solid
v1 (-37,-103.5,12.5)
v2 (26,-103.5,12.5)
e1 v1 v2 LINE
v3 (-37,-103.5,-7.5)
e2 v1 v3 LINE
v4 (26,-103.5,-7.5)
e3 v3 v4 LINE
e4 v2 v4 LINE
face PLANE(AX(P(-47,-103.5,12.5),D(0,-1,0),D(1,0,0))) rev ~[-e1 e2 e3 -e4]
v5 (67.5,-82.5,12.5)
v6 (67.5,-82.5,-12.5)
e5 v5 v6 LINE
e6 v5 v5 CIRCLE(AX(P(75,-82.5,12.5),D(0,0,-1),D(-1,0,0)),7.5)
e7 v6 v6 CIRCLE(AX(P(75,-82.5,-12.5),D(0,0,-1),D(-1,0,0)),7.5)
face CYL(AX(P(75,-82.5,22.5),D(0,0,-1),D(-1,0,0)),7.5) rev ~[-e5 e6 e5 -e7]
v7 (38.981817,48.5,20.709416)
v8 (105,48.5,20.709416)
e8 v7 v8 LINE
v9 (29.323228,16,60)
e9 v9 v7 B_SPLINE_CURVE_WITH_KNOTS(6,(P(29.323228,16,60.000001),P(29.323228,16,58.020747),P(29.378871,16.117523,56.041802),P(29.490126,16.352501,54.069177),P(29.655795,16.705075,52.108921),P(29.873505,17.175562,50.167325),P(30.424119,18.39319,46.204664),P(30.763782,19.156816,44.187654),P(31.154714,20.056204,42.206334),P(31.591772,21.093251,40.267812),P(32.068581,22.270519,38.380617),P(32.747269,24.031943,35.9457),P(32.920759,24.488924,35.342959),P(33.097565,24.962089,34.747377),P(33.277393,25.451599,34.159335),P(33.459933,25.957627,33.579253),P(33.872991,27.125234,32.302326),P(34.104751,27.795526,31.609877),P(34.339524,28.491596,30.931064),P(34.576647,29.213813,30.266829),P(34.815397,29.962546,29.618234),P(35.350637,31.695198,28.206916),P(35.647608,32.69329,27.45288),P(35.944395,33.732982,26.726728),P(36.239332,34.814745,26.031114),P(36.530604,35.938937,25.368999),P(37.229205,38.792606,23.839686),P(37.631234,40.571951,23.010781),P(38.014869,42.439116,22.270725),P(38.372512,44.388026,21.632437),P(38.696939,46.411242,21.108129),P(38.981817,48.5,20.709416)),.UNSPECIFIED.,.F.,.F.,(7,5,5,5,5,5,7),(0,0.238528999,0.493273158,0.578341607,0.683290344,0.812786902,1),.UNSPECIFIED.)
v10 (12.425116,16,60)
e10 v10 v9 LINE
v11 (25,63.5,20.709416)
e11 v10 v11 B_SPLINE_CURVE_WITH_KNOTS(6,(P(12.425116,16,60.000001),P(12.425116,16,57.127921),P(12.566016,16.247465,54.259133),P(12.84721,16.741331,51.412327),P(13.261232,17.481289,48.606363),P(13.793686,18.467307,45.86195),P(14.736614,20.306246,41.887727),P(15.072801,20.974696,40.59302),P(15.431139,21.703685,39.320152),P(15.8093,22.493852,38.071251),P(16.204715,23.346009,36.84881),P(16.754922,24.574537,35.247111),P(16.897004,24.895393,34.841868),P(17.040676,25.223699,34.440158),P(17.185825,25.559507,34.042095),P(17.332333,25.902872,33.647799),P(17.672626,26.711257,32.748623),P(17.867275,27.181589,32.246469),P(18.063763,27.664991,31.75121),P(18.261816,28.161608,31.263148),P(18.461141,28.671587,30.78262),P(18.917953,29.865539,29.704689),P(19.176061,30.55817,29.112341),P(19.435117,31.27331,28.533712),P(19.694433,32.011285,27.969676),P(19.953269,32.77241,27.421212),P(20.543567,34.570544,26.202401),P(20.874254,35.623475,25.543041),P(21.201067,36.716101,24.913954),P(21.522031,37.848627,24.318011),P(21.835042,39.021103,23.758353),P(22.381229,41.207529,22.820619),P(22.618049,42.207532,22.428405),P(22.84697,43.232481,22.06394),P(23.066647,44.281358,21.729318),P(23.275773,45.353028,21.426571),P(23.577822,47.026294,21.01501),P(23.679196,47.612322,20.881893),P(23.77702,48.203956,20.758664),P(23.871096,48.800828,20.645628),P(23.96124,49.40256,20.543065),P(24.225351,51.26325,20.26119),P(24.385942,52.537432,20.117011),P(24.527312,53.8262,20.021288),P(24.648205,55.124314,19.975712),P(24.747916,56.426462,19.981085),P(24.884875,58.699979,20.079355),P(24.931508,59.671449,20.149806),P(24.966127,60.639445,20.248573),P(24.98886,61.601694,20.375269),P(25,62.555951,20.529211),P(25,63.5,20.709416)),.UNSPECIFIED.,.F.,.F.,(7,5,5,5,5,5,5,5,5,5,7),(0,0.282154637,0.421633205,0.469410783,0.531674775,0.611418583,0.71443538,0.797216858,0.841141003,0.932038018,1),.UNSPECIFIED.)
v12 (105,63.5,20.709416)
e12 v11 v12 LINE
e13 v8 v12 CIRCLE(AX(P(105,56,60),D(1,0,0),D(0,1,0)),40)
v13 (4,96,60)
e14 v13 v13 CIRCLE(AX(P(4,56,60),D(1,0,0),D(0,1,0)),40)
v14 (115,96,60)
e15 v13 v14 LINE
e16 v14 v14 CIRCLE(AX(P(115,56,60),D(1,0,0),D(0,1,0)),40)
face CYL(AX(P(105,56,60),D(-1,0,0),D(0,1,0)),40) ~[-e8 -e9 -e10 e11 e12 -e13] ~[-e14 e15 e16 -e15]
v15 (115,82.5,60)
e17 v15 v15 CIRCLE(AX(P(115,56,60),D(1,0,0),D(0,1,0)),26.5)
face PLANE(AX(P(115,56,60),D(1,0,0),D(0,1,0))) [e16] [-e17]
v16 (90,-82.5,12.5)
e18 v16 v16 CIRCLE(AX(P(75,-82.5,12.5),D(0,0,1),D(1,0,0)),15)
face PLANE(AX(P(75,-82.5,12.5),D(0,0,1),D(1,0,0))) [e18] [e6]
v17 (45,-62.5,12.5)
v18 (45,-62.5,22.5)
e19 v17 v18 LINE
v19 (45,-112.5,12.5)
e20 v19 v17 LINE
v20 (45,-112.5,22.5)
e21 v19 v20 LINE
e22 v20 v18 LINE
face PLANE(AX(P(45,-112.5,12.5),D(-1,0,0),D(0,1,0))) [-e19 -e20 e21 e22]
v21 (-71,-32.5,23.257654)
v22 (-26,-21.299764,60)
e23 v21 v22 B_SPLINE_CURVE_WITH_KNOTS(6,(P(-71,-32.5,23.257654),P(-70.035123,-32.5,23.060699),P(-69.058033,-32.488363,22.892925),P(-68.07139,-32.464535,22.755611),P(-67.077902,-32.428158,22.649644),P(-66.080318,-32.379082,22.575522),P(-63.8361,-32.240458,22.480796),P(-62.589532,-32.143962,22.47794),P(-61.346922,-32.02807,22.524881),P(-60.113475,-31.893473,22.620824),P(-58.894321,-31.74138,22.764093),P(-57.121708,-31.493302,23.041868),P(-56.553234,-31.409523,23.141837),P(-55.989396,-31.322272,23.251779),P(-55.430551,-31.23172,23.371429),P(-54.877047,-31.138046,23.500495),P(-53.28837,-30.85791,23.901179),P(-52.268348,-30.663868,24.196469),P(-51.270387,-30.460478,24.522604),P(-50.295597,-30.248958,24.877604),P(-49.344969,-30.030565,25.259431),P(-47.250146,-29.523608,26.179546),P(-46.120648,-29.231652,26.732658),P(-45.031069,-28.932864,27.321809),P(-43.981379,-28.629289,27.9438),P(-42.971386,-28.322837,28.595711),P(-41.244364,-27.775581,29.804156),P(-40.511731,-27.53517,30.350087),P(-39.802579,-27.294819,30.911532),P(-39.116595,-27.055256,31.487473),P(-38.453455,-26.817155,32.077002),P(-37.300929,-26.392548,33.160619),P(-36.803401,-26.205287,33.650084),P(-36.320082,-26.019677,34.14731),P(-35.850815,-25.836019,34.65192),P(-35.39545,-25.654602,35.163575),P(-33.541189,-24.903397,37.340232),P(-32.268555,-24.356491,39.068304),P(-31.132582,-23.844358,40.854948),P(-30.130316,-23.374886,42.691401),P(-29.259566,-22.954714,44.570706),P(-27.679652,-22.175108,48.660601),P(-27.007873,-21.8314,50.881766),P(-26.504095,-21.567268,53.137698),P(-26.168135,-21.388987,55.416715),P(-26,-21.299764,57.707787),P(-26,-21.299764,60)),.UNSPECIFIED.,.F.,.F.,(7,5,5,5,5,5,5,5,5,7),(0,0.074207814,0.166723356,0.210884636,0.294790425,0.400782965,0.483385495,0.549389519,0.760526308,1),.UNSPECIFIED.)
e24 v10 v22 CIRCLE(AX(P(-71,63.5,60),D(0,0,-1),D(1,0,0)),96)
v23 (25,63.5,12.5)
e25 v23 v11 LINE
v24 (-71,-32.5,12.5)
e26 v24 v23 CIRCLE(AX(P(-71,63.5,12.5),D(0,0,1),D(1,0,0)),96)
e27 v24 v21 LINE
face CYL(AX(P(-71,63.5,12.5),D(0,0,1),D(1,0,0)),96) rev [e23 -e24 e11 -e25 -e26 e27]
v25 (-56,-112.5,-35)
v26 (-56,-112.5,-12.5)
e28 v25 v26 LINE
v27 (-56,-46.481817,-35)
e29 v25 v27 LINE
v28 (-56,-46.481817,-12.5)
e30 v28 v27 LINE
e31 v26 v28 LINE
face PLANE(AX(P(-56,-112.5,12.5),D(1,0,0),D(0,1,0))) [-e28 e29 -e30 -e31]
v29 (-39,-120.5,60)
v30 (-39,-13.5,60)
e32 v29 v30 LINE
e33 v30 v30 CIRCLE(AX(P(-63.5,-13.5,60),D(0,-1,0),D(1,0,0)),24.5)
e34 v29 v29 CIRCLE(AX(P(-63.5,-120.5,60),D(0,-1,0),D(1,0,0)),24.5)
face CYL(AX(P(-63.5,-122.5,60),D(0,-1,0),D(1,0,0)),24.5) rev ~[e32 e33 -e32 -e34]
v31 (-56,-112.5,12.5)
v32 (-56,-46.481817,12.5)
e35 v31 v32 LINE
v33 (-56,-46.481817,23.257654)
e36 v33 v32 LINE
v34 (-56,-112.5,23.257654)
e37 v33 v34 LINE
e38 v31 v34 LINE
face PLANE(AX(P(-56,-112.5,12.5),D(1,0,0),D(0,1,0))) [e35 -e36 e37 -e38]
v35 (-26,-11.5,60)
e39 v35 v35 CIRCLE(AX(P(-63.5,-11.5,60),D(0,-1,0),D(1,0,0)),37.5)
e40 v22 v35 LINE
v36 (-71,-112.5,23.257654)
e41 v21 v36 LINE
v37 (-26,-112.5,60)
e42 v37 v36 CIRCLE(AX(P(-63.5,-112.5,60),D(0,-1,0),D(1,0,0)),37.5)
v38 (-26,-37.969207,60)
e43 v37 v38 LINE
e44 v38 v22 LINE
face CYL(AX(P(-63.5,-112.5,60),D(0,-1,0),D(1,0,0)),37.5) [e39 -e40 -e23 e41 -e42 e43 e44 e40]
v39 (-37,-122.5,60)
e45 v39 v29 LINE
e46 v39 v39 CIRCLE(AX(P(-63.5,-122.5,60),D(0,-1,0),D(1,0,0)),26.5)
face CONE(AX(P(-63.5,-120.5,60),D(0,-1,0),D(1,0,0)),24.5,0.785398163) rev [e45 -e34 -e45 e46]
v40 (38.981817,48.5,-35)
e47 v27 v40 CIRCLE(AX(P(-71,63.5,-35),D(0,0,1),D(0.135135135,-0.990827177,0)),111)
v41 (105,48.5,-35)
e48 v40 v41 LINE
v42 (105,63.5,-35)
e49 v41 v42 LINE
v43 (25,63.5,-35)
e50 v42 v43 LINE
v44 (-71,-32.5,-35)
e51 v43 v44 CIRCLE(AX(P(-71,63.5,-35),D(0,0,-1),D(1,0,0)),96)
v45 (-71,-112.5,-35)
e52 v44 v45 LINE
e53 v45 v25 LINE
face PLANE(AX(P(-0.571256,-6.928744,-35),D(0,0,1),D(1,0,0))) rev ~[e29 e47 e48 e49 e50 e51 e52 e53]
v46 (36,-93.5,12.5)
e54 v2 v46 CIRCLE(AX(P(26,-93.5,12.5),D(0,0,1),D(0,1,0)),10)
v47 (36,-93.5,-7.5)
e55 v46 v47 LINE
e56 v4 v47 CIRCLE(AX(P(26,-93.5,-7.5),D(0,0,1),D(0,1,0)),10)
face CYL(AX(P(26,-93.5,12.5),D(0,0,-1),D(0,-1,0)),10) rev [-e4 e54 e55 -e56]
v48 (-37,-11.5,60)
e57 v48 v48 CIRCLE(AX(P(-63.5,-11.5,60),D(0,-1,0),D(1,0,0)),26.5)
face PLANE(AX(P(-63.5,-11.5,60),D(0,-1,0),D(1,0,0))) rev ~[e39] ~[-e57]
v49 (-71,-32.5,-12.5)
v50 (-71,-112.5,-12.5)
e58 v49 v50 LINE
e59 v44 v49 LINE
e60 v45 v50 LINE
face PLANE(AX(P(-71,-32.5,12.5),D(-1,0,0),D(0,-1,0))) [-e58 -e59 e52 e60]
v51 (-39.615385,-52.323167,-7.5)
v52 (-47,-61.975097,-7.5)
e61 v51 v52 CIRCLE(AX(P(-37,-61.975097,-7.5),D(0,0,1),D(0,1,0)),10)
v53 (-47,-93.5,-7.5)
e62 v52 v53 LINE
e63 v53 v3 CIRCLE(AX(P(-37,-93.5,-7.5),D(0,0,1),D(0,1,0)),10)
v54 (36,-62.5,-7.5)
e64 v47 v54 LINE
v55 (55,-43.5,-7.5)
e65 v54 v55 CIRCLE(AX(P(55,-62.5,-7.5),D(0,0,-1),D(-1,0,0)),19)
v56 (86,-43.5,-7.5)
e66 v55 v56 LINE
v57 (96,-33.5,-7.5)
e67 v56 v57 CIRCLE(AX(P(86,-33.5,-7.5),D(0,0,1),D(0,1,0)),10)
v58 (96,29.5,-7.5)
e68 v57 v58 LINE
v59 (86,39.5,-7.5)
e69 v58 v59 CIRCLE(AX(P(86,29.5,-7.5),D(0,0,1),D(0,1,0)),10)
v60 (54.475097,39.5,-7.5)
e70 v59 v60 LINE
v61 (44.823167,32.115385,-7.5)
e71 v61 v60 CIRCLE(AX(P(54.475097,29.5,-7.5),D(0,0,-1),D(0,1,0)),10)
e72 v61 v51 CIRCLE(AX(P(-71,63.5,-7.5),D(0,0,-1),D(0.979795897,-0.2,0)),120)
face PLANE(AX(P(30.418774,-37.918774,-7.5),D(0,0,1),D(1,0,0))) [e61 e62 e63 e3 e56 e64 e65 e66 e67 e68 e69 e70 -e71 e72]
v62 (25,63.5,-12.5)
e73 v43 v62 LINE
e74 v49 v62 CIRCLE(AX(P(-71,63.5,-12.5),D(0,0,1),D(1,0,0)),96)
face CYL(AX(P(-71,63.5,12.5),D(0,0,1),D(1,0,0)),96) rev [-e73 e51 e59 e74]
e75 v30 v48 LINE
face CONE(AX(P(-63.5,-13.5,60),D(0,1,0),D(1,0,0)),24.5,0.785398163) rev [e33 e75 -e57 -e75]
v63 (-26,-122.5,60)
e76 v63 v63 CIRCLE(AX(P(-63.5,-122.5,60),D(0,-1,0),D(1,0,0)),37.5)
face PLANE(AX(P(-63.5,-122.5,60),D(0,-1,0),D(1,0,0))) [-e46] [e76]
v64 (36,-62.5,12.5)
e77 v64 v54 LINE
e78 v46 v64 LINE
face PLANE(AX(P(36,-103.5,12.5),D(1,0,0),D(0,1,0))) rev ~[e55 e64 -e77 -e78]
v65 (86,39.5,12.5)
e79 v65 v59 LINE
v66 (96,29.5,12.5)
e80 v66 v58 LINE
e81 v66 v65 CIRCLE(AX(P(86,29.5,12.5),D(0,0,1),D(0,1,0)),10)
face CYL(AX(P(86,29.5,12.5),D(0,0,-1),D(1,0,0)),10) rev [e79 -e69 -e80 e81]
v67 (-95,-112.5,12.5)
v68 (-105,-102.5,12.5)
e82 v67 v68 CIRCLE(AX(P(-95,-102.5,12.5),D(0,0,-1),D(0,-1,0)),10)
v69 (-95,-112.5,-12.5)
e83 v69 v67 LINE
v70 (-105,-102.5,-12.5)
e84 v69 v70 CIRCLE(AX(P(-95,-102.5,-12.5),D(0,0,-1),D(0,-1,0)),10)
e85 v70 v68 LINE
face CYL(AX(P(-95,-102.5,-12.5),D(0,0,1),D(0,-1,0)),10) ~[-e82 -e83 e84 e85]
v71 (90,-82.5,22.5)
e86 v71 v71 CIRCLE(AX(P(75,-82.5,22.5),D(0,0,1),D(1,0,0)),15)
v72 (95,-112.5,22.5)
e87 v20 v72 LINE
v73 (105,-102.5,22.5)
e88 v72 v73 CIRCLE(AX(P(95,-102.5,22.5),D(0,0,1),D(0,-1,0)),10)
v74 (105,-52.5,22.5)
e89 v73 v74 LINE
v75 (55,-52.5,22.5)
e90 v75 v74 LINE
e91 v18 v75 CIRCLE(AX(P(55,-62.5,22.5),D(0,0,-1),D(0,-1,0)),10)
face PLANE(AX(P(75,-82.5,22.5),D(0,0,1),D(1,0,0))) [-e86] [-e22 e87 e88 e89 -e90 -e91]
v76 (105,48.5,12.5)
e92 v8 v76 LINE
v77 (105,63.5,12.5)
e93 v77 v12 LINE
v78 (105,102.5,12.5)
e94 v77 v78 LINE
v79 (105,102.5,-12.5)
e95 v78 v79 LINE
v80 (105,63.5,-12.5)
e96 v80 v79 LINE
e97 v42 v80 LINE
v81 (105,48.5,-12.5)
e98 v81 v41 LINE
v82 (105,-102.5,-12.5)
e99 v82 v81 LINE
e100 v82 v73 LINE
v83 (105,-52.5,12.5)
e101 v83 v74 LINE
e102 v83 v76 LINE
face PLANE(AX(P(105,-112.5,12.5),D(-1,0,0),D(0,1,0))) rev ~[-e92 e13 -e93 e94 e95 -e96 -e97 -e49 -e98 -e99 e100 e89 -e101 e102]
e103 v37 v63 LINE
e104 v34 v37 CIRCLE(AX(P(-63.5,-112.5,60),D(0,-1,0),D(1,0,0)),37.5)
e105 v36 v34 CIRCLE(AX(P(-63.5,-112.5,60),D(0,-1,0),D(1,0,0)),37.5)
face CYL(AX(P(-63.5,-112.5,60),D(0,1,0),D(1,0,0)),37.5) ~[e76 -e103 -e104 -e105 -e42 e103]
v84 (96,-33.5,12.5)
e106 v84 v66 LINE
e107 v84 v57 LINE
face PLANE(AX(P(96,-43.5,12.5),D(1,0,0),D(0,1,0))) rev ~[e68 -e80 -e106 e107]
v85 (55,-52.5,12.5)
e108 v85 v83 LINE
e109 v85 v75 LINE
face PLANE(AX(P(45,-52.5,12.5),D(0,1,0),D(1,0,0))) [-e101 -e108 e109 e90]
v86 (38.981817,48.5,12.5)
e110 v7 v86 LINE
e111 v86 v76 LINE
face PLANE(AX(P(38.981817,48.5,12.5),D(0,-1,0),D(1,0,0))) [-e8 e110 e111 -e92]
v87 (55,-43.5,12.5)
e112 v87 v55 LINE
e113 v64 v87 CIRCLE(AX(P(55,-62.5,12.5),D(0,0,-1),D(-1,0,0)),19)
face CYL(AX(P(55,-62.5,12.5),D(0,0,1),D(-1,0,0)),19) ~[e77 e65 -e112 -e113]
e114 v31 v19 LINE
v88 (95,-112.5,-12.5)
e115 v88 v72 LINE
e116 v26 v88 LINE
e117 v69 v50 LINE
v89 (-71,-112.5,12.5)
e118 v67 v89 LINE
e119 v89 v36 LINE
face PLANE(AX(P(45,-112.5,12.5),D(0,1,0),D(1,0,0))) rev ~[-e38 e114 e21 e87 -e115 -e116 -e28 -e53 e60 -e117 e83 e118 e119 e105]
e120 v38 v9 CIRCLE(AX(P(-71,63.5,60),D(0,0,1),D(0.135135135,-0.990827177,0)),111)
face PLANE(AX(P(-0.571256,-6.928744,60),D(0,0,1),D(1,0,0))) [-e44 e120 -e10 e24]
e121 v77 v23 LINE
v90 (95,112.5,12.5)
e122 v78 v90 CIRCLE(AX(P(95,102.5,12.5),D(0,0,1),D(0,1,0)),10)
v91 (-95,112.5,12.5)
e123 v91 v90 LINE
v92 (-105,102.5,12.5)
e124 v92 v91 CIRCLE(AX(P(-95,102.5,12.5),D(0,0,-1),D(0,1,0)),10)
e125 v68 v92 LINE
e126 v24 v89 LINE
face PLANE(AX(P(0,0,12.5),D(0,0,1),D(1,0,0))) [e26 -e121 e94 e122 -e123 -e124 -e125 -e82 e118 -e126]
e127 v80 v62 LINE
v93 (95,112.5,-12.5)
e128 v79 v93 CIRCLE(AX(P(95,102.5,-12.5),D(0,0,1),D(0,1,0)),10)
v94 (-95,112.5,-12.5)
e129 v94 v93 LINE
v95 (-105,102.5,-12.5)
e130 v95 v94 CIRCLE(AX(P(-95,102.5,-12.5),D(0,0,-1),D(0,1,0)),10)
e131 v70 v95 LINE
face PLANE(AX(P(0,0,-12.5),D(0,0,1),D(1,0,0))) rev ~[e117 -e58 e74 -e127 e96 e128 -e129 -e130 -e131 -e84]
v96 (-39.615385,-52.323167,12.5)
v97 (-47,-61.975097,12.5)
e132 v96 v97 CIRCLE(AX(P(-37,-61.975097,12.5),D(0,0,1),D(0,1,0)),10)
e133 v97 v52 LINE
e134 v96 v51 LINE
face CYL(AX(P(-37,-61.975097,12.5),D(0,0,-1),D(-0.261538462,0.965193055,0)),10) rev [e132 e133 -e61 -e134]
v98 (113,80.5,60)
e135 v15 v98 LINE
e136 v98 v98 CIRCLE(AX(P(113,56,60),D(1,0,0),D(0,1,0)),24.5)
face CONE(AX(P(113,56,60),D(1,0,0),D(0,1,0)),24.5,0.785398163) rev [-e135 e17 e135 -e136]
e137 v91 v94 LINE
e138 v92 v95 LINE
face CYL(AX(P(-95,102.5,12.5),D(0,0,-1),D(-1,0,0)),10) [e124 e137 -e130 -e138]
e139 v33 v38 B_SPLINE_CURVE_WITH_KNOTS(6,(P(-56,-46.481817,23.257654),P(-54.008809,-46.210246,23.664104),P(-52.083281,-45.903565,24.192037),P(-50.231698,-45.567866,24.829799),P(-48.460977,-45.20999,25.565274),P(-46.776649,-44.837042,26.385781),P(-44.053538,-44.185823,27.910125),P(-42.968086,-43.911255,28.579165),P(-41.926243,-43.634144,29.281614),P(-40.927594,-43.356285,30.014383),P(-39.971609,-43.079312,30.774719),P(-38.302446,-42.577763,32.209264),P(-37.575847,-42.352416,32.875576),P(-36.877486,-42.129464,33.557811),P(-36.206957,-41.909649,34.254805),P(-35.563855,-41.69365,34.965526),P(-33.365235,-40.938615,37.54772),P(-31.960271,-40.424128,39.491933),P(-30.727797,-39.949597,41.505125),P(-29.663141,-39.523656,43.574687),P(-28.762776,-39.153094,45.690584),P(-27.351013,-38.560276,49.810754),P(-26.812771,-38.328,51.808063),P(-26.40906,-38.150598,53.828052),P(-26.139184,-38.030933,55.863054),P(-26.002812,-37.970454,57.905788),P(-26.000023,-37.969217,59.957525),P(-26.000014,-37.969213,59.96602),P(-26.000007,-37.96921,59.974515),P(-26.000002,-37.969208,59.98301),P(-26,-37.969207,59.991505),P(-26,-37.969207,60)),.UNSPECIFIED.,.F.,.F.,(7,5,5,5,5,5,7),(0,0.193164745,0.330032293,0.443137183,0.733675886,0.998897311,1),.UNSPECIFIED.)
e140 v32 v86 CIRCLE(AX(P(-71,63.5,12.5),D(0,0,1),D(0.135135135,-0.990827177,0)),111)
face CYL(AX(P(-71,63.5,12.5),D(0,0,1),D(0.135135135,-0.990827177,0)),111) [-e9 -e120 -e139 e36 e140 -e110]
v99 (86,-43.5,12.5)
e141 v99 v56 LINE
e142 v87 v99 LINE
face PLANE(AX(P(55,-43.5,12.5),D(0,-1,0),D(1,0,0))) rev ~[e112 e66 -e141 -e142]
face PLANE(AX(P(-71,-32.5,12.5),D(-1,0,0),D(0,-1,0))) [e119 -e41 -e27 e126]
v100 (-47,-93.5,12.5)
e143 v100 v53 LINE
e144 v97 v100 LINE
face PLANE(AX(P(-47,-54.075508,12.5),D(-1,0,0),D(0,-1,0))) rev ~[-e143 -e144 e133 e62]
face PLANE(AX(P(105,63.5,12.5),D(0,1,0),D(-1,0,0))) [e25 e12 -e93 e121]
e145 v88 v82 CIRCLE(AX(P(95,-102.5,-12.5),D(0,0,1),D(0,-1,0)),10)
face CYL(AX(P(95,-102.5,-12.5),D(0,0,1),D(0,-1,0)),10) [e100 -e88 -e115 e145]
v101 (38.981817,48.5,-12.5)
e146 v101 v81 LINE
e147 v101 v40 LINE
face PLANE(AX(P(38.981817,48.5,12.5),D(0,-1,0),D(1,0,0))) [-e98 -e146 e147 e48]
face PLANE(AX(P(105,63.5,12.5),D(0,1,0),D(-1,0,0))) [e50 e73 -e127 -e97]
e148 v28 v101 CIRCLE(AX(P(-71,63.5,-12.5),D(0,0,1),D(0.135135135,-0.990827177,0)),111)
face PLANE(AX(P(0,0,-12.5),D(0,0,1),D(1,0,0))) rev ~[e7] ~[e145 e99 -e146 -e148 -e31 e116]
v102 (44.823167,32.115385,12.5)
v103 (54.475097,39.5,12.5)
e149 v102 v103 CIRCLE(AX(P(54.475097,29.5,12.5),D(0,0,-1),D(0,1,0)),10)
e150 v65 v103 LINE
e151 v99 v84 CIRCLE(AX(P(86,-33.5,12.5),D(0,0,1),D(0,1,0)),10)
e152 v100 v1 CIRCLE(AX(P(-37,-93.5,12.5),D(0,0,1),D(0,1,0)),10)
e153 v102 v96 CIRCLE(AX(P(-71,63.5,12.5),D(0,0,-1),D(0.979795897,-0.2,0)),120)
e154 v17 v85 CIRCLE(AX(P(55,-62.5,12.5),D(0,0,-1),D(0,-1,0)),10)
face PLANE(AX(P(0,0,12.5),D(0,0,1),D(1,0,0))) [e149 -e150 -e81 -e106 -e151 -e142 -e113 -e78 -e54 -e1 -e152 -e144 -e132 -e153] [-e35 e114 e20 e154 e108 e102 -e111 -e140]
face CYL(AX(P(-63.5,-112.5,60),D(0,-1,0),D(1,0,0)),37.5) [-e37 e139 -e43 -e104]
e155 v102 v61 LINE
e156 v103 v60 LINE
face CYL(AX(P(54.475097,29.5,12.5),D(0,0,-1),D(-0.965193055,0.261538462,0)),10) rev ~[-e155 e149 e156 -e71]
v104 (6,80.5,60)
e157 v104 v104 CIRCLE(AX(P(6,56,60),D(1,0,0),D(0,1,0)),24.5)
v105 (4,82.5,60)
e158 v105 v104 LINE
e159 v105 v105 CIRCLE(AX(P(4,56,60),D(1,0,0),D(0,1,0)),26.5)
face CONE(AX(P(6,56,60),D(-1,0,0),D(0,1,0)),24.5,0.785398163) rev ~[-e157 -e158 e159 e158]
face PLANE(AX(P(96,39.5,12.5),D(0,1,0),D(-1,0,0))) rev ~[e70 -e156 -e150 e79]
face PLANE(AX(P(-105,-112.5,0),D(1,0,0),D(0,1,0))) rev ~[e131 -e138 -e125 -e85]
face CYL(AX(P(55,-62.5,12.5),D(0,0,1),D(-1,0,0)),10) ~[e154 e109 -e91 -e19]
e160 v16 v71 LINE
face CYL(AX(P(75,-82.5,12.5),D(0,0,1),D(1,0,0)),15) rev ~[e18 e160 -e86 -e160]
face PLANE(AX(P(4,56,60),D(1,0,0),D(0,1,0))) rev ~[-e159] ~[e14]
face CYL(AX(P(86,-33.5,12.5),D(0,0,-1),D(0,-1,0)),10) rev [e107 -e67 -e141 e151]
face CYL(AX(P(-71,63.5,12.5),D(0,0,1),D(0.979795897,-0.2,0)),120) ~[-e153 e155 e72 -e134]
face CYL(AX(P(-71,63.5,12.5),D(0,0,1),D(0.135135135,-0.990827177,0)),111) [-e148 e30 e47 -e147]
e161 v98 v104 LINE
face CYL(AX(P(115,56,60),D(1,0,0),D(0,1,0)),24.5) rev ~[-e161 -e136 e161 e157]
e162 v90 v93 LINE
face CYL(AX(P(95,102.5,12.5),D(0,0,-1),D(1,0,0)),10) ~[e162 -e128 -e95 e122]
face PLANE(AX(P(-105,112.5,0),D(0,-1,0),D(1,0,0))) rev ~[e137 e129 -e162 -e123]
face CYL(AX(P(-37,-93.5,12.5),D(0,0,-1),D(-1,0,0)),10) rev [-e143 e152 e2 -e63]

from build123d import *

# Parameters (mm, degrees)
F0_W            = 210
F0_H            = 225
F1_DEPTH        = 12.5
F3_DEPTH        = 47.5
F4_R            = 37.5
F5_DEPTH        = 10
F5_DEPTH_BACK   = 101
F6_R            = 40
F7_DEPTH        = 10
F7_DEPTH_BACK   = 101
F8_W            = 60
F8_H            = 60
F9_DEPTH        = 10
F10_R           = 10
F12_DEPTH       = 20
F14_D           = 1.5
F14_CBORE_D     = 3
F14_CBORE_DEPTH = 1
F16_D           = 15
F16_CBORE_D     = 30
F16_CBORE_DEPTH = 10
F17_R           = 10
F18_R           = 24.5
F19_DEPTH       = 235.001
F20_R           = 24.5
F21_DEPTH       = 220.001
F22_SIZE        = 2


with BuildPart() as f1:
    # F0 (on Top) → F1 (new body, symmetric)
    with BuildSketch(Plane.XY):
        Rectangle(F0_W, F0_H)
    extrude(amount=F1_DEPTH, both=True)

    # F2 (on face) → F3 (join, symmetric)
    with BuildSketch(Plane.XY.offset(12.5)):
        with BuildLine():
            Line((105, 48.5), (105, 63.5))
            Line((105, 63.5), (25, 63.5))
            ThreePointArc((25, 63.5), (-3.1177490061, -4.3822509939), (-71, -32.5))
            Line((-71, -32.5), (-71, -112.5))
            Line((-71, -112.5), (-56, -112.5))
            Line((-56, -112.5), (-56, -46.4818166789))
            ThreePointArc((-56, -46.4818166789), (7.4888527117, -14.9888527117), (38.9818166789, 48.5))
            Line((38.9818166789, 48.5), (105, 48.5))
        make_face()
    extrude(amount=F3_DEPTH, both=True)

    # F4 (on face) → F5 (join, two sides)
    with BuildSketch(Plane.XZ.offset(112.5)) as f5_sk:
        with Locations((-63.5, 60)):
            Circle(F4_R)
    extrude(amount=F5_DEPTH)
    extrude(f5_sk.sketch, amount=-F5_DEPTH_BACK)

    # F6 (on face) → F7 (join, two sides)
    with BuildSketch(Plane.YZ.offset(105)) as f7_sk:
        with Locations((56, 60)):
            Circle(F6_R)
    extrude(amount=F7_DEPTH)
    extrude(f7_sk.sketch, amount=-F7_DEPTH_BACK)

    # F8 (on face) → F9 (join)
    with BuildSketch(Plane.XY.offset(12.5)):
        with Locations((75, -82.5)):
            Rectangle(F8_W, F8_H)
    extrude(amount=F9_DEPTH)

    # F10
    f10_edges = [f1.edges().sort_by_distance(p)[0] for p in [
        (45, -52.5, 17.5),
    ]]
    fillet(f10_edges, radius=F10_R)

    # F11 (on face) → F12 (cut)
    with BuildSketch(Plane.XY.offset(12.5)):
        with BuildLine():
            ThreePointArc((46.5755076536, 39.5), (13.8528137424, -21.3528137424), (-47, -54.0755076536))
            Line((-47, -54.0755076536), (-47, -103.5))
            Line((-47, -103.5), (36, -103.5))
            Line((36, -103.5), (36, -62.5))
            ThreePointArc((36, -62.5), (41.5649711575, -49.0649711575), (55, -43.5))
            Line((55, -43.5), (96, -43.5))
            Line((96, -43.5), (96, 39.5))
            Line((96, 39.5), (46.5755076536, 39.5))
        make_face()
    extrude(amount=-F12_DEPTH, mode=Mode.SUBTRACT)

    # F14 (through all)
    with Locations(Plane.XY.offset(22.5)):
        with Locations((75, -82.5)):
            CounterBoreHole(F14_D / 2, F14_CBORE_D / 2, F14_CBORE_DEPTH)

    # F16 (through all)
    with Locations(Plane.XY.offset(22.5)):
        with Locations((75, -82.5)):
            CounterBoreHole(F16_D / 2, F16_CBORE_D / 2, F16_CBORE_DEPTH)

    # F17
    f17_edges = [f1.edges().sort_by_distance(p)[0] for p in [
        (-47, -54.075508, 2.5),
        (46.575508, 39.5, 2.5),
        (-105, -112.5, 0),
        (105, -112.5, 5),
        (105, 112.5, 0),
        (36, -103.5, 2.5),
        (96, -43.5, 2.5),
        (-47, -103.5, 2.5),
        (96, 39.5, 2.5),
        (-105, 112.5, 0),
    ]]
    fillet(f17_edges, radius=F17_R)

    # F18 (on face) → F19 (cut, through all)
    with BuildSketch(Plane.XZ.offset(122.5)):
        with Locations((-63.5, 60)):
            Circle(F18_R)
    extrude(amount=-F19_DEPTH, mode=Mode.SUBTRACT)

    # F20 (on face) → F21 (cut, through all)
    with BuildSketch(Plane.YZ.offset(115)):
        with Locations((56, 60)):
            Circle(F20_R)
    extrude(amount=-F21_DEPTH, mode=Mode.SUBTRACT)

    # F22
    f22_edges = [f1.edges().sort_by_distance(p)[0] for p in [
        (-88, -122.5, 60),
        (115, 31.5, 60),
        (4, 31.5, 60),
        (-88, -11.5, 60),
    ]]
    chamfer(f22_edges, length=F22_SIZE)


solid = f1.part
